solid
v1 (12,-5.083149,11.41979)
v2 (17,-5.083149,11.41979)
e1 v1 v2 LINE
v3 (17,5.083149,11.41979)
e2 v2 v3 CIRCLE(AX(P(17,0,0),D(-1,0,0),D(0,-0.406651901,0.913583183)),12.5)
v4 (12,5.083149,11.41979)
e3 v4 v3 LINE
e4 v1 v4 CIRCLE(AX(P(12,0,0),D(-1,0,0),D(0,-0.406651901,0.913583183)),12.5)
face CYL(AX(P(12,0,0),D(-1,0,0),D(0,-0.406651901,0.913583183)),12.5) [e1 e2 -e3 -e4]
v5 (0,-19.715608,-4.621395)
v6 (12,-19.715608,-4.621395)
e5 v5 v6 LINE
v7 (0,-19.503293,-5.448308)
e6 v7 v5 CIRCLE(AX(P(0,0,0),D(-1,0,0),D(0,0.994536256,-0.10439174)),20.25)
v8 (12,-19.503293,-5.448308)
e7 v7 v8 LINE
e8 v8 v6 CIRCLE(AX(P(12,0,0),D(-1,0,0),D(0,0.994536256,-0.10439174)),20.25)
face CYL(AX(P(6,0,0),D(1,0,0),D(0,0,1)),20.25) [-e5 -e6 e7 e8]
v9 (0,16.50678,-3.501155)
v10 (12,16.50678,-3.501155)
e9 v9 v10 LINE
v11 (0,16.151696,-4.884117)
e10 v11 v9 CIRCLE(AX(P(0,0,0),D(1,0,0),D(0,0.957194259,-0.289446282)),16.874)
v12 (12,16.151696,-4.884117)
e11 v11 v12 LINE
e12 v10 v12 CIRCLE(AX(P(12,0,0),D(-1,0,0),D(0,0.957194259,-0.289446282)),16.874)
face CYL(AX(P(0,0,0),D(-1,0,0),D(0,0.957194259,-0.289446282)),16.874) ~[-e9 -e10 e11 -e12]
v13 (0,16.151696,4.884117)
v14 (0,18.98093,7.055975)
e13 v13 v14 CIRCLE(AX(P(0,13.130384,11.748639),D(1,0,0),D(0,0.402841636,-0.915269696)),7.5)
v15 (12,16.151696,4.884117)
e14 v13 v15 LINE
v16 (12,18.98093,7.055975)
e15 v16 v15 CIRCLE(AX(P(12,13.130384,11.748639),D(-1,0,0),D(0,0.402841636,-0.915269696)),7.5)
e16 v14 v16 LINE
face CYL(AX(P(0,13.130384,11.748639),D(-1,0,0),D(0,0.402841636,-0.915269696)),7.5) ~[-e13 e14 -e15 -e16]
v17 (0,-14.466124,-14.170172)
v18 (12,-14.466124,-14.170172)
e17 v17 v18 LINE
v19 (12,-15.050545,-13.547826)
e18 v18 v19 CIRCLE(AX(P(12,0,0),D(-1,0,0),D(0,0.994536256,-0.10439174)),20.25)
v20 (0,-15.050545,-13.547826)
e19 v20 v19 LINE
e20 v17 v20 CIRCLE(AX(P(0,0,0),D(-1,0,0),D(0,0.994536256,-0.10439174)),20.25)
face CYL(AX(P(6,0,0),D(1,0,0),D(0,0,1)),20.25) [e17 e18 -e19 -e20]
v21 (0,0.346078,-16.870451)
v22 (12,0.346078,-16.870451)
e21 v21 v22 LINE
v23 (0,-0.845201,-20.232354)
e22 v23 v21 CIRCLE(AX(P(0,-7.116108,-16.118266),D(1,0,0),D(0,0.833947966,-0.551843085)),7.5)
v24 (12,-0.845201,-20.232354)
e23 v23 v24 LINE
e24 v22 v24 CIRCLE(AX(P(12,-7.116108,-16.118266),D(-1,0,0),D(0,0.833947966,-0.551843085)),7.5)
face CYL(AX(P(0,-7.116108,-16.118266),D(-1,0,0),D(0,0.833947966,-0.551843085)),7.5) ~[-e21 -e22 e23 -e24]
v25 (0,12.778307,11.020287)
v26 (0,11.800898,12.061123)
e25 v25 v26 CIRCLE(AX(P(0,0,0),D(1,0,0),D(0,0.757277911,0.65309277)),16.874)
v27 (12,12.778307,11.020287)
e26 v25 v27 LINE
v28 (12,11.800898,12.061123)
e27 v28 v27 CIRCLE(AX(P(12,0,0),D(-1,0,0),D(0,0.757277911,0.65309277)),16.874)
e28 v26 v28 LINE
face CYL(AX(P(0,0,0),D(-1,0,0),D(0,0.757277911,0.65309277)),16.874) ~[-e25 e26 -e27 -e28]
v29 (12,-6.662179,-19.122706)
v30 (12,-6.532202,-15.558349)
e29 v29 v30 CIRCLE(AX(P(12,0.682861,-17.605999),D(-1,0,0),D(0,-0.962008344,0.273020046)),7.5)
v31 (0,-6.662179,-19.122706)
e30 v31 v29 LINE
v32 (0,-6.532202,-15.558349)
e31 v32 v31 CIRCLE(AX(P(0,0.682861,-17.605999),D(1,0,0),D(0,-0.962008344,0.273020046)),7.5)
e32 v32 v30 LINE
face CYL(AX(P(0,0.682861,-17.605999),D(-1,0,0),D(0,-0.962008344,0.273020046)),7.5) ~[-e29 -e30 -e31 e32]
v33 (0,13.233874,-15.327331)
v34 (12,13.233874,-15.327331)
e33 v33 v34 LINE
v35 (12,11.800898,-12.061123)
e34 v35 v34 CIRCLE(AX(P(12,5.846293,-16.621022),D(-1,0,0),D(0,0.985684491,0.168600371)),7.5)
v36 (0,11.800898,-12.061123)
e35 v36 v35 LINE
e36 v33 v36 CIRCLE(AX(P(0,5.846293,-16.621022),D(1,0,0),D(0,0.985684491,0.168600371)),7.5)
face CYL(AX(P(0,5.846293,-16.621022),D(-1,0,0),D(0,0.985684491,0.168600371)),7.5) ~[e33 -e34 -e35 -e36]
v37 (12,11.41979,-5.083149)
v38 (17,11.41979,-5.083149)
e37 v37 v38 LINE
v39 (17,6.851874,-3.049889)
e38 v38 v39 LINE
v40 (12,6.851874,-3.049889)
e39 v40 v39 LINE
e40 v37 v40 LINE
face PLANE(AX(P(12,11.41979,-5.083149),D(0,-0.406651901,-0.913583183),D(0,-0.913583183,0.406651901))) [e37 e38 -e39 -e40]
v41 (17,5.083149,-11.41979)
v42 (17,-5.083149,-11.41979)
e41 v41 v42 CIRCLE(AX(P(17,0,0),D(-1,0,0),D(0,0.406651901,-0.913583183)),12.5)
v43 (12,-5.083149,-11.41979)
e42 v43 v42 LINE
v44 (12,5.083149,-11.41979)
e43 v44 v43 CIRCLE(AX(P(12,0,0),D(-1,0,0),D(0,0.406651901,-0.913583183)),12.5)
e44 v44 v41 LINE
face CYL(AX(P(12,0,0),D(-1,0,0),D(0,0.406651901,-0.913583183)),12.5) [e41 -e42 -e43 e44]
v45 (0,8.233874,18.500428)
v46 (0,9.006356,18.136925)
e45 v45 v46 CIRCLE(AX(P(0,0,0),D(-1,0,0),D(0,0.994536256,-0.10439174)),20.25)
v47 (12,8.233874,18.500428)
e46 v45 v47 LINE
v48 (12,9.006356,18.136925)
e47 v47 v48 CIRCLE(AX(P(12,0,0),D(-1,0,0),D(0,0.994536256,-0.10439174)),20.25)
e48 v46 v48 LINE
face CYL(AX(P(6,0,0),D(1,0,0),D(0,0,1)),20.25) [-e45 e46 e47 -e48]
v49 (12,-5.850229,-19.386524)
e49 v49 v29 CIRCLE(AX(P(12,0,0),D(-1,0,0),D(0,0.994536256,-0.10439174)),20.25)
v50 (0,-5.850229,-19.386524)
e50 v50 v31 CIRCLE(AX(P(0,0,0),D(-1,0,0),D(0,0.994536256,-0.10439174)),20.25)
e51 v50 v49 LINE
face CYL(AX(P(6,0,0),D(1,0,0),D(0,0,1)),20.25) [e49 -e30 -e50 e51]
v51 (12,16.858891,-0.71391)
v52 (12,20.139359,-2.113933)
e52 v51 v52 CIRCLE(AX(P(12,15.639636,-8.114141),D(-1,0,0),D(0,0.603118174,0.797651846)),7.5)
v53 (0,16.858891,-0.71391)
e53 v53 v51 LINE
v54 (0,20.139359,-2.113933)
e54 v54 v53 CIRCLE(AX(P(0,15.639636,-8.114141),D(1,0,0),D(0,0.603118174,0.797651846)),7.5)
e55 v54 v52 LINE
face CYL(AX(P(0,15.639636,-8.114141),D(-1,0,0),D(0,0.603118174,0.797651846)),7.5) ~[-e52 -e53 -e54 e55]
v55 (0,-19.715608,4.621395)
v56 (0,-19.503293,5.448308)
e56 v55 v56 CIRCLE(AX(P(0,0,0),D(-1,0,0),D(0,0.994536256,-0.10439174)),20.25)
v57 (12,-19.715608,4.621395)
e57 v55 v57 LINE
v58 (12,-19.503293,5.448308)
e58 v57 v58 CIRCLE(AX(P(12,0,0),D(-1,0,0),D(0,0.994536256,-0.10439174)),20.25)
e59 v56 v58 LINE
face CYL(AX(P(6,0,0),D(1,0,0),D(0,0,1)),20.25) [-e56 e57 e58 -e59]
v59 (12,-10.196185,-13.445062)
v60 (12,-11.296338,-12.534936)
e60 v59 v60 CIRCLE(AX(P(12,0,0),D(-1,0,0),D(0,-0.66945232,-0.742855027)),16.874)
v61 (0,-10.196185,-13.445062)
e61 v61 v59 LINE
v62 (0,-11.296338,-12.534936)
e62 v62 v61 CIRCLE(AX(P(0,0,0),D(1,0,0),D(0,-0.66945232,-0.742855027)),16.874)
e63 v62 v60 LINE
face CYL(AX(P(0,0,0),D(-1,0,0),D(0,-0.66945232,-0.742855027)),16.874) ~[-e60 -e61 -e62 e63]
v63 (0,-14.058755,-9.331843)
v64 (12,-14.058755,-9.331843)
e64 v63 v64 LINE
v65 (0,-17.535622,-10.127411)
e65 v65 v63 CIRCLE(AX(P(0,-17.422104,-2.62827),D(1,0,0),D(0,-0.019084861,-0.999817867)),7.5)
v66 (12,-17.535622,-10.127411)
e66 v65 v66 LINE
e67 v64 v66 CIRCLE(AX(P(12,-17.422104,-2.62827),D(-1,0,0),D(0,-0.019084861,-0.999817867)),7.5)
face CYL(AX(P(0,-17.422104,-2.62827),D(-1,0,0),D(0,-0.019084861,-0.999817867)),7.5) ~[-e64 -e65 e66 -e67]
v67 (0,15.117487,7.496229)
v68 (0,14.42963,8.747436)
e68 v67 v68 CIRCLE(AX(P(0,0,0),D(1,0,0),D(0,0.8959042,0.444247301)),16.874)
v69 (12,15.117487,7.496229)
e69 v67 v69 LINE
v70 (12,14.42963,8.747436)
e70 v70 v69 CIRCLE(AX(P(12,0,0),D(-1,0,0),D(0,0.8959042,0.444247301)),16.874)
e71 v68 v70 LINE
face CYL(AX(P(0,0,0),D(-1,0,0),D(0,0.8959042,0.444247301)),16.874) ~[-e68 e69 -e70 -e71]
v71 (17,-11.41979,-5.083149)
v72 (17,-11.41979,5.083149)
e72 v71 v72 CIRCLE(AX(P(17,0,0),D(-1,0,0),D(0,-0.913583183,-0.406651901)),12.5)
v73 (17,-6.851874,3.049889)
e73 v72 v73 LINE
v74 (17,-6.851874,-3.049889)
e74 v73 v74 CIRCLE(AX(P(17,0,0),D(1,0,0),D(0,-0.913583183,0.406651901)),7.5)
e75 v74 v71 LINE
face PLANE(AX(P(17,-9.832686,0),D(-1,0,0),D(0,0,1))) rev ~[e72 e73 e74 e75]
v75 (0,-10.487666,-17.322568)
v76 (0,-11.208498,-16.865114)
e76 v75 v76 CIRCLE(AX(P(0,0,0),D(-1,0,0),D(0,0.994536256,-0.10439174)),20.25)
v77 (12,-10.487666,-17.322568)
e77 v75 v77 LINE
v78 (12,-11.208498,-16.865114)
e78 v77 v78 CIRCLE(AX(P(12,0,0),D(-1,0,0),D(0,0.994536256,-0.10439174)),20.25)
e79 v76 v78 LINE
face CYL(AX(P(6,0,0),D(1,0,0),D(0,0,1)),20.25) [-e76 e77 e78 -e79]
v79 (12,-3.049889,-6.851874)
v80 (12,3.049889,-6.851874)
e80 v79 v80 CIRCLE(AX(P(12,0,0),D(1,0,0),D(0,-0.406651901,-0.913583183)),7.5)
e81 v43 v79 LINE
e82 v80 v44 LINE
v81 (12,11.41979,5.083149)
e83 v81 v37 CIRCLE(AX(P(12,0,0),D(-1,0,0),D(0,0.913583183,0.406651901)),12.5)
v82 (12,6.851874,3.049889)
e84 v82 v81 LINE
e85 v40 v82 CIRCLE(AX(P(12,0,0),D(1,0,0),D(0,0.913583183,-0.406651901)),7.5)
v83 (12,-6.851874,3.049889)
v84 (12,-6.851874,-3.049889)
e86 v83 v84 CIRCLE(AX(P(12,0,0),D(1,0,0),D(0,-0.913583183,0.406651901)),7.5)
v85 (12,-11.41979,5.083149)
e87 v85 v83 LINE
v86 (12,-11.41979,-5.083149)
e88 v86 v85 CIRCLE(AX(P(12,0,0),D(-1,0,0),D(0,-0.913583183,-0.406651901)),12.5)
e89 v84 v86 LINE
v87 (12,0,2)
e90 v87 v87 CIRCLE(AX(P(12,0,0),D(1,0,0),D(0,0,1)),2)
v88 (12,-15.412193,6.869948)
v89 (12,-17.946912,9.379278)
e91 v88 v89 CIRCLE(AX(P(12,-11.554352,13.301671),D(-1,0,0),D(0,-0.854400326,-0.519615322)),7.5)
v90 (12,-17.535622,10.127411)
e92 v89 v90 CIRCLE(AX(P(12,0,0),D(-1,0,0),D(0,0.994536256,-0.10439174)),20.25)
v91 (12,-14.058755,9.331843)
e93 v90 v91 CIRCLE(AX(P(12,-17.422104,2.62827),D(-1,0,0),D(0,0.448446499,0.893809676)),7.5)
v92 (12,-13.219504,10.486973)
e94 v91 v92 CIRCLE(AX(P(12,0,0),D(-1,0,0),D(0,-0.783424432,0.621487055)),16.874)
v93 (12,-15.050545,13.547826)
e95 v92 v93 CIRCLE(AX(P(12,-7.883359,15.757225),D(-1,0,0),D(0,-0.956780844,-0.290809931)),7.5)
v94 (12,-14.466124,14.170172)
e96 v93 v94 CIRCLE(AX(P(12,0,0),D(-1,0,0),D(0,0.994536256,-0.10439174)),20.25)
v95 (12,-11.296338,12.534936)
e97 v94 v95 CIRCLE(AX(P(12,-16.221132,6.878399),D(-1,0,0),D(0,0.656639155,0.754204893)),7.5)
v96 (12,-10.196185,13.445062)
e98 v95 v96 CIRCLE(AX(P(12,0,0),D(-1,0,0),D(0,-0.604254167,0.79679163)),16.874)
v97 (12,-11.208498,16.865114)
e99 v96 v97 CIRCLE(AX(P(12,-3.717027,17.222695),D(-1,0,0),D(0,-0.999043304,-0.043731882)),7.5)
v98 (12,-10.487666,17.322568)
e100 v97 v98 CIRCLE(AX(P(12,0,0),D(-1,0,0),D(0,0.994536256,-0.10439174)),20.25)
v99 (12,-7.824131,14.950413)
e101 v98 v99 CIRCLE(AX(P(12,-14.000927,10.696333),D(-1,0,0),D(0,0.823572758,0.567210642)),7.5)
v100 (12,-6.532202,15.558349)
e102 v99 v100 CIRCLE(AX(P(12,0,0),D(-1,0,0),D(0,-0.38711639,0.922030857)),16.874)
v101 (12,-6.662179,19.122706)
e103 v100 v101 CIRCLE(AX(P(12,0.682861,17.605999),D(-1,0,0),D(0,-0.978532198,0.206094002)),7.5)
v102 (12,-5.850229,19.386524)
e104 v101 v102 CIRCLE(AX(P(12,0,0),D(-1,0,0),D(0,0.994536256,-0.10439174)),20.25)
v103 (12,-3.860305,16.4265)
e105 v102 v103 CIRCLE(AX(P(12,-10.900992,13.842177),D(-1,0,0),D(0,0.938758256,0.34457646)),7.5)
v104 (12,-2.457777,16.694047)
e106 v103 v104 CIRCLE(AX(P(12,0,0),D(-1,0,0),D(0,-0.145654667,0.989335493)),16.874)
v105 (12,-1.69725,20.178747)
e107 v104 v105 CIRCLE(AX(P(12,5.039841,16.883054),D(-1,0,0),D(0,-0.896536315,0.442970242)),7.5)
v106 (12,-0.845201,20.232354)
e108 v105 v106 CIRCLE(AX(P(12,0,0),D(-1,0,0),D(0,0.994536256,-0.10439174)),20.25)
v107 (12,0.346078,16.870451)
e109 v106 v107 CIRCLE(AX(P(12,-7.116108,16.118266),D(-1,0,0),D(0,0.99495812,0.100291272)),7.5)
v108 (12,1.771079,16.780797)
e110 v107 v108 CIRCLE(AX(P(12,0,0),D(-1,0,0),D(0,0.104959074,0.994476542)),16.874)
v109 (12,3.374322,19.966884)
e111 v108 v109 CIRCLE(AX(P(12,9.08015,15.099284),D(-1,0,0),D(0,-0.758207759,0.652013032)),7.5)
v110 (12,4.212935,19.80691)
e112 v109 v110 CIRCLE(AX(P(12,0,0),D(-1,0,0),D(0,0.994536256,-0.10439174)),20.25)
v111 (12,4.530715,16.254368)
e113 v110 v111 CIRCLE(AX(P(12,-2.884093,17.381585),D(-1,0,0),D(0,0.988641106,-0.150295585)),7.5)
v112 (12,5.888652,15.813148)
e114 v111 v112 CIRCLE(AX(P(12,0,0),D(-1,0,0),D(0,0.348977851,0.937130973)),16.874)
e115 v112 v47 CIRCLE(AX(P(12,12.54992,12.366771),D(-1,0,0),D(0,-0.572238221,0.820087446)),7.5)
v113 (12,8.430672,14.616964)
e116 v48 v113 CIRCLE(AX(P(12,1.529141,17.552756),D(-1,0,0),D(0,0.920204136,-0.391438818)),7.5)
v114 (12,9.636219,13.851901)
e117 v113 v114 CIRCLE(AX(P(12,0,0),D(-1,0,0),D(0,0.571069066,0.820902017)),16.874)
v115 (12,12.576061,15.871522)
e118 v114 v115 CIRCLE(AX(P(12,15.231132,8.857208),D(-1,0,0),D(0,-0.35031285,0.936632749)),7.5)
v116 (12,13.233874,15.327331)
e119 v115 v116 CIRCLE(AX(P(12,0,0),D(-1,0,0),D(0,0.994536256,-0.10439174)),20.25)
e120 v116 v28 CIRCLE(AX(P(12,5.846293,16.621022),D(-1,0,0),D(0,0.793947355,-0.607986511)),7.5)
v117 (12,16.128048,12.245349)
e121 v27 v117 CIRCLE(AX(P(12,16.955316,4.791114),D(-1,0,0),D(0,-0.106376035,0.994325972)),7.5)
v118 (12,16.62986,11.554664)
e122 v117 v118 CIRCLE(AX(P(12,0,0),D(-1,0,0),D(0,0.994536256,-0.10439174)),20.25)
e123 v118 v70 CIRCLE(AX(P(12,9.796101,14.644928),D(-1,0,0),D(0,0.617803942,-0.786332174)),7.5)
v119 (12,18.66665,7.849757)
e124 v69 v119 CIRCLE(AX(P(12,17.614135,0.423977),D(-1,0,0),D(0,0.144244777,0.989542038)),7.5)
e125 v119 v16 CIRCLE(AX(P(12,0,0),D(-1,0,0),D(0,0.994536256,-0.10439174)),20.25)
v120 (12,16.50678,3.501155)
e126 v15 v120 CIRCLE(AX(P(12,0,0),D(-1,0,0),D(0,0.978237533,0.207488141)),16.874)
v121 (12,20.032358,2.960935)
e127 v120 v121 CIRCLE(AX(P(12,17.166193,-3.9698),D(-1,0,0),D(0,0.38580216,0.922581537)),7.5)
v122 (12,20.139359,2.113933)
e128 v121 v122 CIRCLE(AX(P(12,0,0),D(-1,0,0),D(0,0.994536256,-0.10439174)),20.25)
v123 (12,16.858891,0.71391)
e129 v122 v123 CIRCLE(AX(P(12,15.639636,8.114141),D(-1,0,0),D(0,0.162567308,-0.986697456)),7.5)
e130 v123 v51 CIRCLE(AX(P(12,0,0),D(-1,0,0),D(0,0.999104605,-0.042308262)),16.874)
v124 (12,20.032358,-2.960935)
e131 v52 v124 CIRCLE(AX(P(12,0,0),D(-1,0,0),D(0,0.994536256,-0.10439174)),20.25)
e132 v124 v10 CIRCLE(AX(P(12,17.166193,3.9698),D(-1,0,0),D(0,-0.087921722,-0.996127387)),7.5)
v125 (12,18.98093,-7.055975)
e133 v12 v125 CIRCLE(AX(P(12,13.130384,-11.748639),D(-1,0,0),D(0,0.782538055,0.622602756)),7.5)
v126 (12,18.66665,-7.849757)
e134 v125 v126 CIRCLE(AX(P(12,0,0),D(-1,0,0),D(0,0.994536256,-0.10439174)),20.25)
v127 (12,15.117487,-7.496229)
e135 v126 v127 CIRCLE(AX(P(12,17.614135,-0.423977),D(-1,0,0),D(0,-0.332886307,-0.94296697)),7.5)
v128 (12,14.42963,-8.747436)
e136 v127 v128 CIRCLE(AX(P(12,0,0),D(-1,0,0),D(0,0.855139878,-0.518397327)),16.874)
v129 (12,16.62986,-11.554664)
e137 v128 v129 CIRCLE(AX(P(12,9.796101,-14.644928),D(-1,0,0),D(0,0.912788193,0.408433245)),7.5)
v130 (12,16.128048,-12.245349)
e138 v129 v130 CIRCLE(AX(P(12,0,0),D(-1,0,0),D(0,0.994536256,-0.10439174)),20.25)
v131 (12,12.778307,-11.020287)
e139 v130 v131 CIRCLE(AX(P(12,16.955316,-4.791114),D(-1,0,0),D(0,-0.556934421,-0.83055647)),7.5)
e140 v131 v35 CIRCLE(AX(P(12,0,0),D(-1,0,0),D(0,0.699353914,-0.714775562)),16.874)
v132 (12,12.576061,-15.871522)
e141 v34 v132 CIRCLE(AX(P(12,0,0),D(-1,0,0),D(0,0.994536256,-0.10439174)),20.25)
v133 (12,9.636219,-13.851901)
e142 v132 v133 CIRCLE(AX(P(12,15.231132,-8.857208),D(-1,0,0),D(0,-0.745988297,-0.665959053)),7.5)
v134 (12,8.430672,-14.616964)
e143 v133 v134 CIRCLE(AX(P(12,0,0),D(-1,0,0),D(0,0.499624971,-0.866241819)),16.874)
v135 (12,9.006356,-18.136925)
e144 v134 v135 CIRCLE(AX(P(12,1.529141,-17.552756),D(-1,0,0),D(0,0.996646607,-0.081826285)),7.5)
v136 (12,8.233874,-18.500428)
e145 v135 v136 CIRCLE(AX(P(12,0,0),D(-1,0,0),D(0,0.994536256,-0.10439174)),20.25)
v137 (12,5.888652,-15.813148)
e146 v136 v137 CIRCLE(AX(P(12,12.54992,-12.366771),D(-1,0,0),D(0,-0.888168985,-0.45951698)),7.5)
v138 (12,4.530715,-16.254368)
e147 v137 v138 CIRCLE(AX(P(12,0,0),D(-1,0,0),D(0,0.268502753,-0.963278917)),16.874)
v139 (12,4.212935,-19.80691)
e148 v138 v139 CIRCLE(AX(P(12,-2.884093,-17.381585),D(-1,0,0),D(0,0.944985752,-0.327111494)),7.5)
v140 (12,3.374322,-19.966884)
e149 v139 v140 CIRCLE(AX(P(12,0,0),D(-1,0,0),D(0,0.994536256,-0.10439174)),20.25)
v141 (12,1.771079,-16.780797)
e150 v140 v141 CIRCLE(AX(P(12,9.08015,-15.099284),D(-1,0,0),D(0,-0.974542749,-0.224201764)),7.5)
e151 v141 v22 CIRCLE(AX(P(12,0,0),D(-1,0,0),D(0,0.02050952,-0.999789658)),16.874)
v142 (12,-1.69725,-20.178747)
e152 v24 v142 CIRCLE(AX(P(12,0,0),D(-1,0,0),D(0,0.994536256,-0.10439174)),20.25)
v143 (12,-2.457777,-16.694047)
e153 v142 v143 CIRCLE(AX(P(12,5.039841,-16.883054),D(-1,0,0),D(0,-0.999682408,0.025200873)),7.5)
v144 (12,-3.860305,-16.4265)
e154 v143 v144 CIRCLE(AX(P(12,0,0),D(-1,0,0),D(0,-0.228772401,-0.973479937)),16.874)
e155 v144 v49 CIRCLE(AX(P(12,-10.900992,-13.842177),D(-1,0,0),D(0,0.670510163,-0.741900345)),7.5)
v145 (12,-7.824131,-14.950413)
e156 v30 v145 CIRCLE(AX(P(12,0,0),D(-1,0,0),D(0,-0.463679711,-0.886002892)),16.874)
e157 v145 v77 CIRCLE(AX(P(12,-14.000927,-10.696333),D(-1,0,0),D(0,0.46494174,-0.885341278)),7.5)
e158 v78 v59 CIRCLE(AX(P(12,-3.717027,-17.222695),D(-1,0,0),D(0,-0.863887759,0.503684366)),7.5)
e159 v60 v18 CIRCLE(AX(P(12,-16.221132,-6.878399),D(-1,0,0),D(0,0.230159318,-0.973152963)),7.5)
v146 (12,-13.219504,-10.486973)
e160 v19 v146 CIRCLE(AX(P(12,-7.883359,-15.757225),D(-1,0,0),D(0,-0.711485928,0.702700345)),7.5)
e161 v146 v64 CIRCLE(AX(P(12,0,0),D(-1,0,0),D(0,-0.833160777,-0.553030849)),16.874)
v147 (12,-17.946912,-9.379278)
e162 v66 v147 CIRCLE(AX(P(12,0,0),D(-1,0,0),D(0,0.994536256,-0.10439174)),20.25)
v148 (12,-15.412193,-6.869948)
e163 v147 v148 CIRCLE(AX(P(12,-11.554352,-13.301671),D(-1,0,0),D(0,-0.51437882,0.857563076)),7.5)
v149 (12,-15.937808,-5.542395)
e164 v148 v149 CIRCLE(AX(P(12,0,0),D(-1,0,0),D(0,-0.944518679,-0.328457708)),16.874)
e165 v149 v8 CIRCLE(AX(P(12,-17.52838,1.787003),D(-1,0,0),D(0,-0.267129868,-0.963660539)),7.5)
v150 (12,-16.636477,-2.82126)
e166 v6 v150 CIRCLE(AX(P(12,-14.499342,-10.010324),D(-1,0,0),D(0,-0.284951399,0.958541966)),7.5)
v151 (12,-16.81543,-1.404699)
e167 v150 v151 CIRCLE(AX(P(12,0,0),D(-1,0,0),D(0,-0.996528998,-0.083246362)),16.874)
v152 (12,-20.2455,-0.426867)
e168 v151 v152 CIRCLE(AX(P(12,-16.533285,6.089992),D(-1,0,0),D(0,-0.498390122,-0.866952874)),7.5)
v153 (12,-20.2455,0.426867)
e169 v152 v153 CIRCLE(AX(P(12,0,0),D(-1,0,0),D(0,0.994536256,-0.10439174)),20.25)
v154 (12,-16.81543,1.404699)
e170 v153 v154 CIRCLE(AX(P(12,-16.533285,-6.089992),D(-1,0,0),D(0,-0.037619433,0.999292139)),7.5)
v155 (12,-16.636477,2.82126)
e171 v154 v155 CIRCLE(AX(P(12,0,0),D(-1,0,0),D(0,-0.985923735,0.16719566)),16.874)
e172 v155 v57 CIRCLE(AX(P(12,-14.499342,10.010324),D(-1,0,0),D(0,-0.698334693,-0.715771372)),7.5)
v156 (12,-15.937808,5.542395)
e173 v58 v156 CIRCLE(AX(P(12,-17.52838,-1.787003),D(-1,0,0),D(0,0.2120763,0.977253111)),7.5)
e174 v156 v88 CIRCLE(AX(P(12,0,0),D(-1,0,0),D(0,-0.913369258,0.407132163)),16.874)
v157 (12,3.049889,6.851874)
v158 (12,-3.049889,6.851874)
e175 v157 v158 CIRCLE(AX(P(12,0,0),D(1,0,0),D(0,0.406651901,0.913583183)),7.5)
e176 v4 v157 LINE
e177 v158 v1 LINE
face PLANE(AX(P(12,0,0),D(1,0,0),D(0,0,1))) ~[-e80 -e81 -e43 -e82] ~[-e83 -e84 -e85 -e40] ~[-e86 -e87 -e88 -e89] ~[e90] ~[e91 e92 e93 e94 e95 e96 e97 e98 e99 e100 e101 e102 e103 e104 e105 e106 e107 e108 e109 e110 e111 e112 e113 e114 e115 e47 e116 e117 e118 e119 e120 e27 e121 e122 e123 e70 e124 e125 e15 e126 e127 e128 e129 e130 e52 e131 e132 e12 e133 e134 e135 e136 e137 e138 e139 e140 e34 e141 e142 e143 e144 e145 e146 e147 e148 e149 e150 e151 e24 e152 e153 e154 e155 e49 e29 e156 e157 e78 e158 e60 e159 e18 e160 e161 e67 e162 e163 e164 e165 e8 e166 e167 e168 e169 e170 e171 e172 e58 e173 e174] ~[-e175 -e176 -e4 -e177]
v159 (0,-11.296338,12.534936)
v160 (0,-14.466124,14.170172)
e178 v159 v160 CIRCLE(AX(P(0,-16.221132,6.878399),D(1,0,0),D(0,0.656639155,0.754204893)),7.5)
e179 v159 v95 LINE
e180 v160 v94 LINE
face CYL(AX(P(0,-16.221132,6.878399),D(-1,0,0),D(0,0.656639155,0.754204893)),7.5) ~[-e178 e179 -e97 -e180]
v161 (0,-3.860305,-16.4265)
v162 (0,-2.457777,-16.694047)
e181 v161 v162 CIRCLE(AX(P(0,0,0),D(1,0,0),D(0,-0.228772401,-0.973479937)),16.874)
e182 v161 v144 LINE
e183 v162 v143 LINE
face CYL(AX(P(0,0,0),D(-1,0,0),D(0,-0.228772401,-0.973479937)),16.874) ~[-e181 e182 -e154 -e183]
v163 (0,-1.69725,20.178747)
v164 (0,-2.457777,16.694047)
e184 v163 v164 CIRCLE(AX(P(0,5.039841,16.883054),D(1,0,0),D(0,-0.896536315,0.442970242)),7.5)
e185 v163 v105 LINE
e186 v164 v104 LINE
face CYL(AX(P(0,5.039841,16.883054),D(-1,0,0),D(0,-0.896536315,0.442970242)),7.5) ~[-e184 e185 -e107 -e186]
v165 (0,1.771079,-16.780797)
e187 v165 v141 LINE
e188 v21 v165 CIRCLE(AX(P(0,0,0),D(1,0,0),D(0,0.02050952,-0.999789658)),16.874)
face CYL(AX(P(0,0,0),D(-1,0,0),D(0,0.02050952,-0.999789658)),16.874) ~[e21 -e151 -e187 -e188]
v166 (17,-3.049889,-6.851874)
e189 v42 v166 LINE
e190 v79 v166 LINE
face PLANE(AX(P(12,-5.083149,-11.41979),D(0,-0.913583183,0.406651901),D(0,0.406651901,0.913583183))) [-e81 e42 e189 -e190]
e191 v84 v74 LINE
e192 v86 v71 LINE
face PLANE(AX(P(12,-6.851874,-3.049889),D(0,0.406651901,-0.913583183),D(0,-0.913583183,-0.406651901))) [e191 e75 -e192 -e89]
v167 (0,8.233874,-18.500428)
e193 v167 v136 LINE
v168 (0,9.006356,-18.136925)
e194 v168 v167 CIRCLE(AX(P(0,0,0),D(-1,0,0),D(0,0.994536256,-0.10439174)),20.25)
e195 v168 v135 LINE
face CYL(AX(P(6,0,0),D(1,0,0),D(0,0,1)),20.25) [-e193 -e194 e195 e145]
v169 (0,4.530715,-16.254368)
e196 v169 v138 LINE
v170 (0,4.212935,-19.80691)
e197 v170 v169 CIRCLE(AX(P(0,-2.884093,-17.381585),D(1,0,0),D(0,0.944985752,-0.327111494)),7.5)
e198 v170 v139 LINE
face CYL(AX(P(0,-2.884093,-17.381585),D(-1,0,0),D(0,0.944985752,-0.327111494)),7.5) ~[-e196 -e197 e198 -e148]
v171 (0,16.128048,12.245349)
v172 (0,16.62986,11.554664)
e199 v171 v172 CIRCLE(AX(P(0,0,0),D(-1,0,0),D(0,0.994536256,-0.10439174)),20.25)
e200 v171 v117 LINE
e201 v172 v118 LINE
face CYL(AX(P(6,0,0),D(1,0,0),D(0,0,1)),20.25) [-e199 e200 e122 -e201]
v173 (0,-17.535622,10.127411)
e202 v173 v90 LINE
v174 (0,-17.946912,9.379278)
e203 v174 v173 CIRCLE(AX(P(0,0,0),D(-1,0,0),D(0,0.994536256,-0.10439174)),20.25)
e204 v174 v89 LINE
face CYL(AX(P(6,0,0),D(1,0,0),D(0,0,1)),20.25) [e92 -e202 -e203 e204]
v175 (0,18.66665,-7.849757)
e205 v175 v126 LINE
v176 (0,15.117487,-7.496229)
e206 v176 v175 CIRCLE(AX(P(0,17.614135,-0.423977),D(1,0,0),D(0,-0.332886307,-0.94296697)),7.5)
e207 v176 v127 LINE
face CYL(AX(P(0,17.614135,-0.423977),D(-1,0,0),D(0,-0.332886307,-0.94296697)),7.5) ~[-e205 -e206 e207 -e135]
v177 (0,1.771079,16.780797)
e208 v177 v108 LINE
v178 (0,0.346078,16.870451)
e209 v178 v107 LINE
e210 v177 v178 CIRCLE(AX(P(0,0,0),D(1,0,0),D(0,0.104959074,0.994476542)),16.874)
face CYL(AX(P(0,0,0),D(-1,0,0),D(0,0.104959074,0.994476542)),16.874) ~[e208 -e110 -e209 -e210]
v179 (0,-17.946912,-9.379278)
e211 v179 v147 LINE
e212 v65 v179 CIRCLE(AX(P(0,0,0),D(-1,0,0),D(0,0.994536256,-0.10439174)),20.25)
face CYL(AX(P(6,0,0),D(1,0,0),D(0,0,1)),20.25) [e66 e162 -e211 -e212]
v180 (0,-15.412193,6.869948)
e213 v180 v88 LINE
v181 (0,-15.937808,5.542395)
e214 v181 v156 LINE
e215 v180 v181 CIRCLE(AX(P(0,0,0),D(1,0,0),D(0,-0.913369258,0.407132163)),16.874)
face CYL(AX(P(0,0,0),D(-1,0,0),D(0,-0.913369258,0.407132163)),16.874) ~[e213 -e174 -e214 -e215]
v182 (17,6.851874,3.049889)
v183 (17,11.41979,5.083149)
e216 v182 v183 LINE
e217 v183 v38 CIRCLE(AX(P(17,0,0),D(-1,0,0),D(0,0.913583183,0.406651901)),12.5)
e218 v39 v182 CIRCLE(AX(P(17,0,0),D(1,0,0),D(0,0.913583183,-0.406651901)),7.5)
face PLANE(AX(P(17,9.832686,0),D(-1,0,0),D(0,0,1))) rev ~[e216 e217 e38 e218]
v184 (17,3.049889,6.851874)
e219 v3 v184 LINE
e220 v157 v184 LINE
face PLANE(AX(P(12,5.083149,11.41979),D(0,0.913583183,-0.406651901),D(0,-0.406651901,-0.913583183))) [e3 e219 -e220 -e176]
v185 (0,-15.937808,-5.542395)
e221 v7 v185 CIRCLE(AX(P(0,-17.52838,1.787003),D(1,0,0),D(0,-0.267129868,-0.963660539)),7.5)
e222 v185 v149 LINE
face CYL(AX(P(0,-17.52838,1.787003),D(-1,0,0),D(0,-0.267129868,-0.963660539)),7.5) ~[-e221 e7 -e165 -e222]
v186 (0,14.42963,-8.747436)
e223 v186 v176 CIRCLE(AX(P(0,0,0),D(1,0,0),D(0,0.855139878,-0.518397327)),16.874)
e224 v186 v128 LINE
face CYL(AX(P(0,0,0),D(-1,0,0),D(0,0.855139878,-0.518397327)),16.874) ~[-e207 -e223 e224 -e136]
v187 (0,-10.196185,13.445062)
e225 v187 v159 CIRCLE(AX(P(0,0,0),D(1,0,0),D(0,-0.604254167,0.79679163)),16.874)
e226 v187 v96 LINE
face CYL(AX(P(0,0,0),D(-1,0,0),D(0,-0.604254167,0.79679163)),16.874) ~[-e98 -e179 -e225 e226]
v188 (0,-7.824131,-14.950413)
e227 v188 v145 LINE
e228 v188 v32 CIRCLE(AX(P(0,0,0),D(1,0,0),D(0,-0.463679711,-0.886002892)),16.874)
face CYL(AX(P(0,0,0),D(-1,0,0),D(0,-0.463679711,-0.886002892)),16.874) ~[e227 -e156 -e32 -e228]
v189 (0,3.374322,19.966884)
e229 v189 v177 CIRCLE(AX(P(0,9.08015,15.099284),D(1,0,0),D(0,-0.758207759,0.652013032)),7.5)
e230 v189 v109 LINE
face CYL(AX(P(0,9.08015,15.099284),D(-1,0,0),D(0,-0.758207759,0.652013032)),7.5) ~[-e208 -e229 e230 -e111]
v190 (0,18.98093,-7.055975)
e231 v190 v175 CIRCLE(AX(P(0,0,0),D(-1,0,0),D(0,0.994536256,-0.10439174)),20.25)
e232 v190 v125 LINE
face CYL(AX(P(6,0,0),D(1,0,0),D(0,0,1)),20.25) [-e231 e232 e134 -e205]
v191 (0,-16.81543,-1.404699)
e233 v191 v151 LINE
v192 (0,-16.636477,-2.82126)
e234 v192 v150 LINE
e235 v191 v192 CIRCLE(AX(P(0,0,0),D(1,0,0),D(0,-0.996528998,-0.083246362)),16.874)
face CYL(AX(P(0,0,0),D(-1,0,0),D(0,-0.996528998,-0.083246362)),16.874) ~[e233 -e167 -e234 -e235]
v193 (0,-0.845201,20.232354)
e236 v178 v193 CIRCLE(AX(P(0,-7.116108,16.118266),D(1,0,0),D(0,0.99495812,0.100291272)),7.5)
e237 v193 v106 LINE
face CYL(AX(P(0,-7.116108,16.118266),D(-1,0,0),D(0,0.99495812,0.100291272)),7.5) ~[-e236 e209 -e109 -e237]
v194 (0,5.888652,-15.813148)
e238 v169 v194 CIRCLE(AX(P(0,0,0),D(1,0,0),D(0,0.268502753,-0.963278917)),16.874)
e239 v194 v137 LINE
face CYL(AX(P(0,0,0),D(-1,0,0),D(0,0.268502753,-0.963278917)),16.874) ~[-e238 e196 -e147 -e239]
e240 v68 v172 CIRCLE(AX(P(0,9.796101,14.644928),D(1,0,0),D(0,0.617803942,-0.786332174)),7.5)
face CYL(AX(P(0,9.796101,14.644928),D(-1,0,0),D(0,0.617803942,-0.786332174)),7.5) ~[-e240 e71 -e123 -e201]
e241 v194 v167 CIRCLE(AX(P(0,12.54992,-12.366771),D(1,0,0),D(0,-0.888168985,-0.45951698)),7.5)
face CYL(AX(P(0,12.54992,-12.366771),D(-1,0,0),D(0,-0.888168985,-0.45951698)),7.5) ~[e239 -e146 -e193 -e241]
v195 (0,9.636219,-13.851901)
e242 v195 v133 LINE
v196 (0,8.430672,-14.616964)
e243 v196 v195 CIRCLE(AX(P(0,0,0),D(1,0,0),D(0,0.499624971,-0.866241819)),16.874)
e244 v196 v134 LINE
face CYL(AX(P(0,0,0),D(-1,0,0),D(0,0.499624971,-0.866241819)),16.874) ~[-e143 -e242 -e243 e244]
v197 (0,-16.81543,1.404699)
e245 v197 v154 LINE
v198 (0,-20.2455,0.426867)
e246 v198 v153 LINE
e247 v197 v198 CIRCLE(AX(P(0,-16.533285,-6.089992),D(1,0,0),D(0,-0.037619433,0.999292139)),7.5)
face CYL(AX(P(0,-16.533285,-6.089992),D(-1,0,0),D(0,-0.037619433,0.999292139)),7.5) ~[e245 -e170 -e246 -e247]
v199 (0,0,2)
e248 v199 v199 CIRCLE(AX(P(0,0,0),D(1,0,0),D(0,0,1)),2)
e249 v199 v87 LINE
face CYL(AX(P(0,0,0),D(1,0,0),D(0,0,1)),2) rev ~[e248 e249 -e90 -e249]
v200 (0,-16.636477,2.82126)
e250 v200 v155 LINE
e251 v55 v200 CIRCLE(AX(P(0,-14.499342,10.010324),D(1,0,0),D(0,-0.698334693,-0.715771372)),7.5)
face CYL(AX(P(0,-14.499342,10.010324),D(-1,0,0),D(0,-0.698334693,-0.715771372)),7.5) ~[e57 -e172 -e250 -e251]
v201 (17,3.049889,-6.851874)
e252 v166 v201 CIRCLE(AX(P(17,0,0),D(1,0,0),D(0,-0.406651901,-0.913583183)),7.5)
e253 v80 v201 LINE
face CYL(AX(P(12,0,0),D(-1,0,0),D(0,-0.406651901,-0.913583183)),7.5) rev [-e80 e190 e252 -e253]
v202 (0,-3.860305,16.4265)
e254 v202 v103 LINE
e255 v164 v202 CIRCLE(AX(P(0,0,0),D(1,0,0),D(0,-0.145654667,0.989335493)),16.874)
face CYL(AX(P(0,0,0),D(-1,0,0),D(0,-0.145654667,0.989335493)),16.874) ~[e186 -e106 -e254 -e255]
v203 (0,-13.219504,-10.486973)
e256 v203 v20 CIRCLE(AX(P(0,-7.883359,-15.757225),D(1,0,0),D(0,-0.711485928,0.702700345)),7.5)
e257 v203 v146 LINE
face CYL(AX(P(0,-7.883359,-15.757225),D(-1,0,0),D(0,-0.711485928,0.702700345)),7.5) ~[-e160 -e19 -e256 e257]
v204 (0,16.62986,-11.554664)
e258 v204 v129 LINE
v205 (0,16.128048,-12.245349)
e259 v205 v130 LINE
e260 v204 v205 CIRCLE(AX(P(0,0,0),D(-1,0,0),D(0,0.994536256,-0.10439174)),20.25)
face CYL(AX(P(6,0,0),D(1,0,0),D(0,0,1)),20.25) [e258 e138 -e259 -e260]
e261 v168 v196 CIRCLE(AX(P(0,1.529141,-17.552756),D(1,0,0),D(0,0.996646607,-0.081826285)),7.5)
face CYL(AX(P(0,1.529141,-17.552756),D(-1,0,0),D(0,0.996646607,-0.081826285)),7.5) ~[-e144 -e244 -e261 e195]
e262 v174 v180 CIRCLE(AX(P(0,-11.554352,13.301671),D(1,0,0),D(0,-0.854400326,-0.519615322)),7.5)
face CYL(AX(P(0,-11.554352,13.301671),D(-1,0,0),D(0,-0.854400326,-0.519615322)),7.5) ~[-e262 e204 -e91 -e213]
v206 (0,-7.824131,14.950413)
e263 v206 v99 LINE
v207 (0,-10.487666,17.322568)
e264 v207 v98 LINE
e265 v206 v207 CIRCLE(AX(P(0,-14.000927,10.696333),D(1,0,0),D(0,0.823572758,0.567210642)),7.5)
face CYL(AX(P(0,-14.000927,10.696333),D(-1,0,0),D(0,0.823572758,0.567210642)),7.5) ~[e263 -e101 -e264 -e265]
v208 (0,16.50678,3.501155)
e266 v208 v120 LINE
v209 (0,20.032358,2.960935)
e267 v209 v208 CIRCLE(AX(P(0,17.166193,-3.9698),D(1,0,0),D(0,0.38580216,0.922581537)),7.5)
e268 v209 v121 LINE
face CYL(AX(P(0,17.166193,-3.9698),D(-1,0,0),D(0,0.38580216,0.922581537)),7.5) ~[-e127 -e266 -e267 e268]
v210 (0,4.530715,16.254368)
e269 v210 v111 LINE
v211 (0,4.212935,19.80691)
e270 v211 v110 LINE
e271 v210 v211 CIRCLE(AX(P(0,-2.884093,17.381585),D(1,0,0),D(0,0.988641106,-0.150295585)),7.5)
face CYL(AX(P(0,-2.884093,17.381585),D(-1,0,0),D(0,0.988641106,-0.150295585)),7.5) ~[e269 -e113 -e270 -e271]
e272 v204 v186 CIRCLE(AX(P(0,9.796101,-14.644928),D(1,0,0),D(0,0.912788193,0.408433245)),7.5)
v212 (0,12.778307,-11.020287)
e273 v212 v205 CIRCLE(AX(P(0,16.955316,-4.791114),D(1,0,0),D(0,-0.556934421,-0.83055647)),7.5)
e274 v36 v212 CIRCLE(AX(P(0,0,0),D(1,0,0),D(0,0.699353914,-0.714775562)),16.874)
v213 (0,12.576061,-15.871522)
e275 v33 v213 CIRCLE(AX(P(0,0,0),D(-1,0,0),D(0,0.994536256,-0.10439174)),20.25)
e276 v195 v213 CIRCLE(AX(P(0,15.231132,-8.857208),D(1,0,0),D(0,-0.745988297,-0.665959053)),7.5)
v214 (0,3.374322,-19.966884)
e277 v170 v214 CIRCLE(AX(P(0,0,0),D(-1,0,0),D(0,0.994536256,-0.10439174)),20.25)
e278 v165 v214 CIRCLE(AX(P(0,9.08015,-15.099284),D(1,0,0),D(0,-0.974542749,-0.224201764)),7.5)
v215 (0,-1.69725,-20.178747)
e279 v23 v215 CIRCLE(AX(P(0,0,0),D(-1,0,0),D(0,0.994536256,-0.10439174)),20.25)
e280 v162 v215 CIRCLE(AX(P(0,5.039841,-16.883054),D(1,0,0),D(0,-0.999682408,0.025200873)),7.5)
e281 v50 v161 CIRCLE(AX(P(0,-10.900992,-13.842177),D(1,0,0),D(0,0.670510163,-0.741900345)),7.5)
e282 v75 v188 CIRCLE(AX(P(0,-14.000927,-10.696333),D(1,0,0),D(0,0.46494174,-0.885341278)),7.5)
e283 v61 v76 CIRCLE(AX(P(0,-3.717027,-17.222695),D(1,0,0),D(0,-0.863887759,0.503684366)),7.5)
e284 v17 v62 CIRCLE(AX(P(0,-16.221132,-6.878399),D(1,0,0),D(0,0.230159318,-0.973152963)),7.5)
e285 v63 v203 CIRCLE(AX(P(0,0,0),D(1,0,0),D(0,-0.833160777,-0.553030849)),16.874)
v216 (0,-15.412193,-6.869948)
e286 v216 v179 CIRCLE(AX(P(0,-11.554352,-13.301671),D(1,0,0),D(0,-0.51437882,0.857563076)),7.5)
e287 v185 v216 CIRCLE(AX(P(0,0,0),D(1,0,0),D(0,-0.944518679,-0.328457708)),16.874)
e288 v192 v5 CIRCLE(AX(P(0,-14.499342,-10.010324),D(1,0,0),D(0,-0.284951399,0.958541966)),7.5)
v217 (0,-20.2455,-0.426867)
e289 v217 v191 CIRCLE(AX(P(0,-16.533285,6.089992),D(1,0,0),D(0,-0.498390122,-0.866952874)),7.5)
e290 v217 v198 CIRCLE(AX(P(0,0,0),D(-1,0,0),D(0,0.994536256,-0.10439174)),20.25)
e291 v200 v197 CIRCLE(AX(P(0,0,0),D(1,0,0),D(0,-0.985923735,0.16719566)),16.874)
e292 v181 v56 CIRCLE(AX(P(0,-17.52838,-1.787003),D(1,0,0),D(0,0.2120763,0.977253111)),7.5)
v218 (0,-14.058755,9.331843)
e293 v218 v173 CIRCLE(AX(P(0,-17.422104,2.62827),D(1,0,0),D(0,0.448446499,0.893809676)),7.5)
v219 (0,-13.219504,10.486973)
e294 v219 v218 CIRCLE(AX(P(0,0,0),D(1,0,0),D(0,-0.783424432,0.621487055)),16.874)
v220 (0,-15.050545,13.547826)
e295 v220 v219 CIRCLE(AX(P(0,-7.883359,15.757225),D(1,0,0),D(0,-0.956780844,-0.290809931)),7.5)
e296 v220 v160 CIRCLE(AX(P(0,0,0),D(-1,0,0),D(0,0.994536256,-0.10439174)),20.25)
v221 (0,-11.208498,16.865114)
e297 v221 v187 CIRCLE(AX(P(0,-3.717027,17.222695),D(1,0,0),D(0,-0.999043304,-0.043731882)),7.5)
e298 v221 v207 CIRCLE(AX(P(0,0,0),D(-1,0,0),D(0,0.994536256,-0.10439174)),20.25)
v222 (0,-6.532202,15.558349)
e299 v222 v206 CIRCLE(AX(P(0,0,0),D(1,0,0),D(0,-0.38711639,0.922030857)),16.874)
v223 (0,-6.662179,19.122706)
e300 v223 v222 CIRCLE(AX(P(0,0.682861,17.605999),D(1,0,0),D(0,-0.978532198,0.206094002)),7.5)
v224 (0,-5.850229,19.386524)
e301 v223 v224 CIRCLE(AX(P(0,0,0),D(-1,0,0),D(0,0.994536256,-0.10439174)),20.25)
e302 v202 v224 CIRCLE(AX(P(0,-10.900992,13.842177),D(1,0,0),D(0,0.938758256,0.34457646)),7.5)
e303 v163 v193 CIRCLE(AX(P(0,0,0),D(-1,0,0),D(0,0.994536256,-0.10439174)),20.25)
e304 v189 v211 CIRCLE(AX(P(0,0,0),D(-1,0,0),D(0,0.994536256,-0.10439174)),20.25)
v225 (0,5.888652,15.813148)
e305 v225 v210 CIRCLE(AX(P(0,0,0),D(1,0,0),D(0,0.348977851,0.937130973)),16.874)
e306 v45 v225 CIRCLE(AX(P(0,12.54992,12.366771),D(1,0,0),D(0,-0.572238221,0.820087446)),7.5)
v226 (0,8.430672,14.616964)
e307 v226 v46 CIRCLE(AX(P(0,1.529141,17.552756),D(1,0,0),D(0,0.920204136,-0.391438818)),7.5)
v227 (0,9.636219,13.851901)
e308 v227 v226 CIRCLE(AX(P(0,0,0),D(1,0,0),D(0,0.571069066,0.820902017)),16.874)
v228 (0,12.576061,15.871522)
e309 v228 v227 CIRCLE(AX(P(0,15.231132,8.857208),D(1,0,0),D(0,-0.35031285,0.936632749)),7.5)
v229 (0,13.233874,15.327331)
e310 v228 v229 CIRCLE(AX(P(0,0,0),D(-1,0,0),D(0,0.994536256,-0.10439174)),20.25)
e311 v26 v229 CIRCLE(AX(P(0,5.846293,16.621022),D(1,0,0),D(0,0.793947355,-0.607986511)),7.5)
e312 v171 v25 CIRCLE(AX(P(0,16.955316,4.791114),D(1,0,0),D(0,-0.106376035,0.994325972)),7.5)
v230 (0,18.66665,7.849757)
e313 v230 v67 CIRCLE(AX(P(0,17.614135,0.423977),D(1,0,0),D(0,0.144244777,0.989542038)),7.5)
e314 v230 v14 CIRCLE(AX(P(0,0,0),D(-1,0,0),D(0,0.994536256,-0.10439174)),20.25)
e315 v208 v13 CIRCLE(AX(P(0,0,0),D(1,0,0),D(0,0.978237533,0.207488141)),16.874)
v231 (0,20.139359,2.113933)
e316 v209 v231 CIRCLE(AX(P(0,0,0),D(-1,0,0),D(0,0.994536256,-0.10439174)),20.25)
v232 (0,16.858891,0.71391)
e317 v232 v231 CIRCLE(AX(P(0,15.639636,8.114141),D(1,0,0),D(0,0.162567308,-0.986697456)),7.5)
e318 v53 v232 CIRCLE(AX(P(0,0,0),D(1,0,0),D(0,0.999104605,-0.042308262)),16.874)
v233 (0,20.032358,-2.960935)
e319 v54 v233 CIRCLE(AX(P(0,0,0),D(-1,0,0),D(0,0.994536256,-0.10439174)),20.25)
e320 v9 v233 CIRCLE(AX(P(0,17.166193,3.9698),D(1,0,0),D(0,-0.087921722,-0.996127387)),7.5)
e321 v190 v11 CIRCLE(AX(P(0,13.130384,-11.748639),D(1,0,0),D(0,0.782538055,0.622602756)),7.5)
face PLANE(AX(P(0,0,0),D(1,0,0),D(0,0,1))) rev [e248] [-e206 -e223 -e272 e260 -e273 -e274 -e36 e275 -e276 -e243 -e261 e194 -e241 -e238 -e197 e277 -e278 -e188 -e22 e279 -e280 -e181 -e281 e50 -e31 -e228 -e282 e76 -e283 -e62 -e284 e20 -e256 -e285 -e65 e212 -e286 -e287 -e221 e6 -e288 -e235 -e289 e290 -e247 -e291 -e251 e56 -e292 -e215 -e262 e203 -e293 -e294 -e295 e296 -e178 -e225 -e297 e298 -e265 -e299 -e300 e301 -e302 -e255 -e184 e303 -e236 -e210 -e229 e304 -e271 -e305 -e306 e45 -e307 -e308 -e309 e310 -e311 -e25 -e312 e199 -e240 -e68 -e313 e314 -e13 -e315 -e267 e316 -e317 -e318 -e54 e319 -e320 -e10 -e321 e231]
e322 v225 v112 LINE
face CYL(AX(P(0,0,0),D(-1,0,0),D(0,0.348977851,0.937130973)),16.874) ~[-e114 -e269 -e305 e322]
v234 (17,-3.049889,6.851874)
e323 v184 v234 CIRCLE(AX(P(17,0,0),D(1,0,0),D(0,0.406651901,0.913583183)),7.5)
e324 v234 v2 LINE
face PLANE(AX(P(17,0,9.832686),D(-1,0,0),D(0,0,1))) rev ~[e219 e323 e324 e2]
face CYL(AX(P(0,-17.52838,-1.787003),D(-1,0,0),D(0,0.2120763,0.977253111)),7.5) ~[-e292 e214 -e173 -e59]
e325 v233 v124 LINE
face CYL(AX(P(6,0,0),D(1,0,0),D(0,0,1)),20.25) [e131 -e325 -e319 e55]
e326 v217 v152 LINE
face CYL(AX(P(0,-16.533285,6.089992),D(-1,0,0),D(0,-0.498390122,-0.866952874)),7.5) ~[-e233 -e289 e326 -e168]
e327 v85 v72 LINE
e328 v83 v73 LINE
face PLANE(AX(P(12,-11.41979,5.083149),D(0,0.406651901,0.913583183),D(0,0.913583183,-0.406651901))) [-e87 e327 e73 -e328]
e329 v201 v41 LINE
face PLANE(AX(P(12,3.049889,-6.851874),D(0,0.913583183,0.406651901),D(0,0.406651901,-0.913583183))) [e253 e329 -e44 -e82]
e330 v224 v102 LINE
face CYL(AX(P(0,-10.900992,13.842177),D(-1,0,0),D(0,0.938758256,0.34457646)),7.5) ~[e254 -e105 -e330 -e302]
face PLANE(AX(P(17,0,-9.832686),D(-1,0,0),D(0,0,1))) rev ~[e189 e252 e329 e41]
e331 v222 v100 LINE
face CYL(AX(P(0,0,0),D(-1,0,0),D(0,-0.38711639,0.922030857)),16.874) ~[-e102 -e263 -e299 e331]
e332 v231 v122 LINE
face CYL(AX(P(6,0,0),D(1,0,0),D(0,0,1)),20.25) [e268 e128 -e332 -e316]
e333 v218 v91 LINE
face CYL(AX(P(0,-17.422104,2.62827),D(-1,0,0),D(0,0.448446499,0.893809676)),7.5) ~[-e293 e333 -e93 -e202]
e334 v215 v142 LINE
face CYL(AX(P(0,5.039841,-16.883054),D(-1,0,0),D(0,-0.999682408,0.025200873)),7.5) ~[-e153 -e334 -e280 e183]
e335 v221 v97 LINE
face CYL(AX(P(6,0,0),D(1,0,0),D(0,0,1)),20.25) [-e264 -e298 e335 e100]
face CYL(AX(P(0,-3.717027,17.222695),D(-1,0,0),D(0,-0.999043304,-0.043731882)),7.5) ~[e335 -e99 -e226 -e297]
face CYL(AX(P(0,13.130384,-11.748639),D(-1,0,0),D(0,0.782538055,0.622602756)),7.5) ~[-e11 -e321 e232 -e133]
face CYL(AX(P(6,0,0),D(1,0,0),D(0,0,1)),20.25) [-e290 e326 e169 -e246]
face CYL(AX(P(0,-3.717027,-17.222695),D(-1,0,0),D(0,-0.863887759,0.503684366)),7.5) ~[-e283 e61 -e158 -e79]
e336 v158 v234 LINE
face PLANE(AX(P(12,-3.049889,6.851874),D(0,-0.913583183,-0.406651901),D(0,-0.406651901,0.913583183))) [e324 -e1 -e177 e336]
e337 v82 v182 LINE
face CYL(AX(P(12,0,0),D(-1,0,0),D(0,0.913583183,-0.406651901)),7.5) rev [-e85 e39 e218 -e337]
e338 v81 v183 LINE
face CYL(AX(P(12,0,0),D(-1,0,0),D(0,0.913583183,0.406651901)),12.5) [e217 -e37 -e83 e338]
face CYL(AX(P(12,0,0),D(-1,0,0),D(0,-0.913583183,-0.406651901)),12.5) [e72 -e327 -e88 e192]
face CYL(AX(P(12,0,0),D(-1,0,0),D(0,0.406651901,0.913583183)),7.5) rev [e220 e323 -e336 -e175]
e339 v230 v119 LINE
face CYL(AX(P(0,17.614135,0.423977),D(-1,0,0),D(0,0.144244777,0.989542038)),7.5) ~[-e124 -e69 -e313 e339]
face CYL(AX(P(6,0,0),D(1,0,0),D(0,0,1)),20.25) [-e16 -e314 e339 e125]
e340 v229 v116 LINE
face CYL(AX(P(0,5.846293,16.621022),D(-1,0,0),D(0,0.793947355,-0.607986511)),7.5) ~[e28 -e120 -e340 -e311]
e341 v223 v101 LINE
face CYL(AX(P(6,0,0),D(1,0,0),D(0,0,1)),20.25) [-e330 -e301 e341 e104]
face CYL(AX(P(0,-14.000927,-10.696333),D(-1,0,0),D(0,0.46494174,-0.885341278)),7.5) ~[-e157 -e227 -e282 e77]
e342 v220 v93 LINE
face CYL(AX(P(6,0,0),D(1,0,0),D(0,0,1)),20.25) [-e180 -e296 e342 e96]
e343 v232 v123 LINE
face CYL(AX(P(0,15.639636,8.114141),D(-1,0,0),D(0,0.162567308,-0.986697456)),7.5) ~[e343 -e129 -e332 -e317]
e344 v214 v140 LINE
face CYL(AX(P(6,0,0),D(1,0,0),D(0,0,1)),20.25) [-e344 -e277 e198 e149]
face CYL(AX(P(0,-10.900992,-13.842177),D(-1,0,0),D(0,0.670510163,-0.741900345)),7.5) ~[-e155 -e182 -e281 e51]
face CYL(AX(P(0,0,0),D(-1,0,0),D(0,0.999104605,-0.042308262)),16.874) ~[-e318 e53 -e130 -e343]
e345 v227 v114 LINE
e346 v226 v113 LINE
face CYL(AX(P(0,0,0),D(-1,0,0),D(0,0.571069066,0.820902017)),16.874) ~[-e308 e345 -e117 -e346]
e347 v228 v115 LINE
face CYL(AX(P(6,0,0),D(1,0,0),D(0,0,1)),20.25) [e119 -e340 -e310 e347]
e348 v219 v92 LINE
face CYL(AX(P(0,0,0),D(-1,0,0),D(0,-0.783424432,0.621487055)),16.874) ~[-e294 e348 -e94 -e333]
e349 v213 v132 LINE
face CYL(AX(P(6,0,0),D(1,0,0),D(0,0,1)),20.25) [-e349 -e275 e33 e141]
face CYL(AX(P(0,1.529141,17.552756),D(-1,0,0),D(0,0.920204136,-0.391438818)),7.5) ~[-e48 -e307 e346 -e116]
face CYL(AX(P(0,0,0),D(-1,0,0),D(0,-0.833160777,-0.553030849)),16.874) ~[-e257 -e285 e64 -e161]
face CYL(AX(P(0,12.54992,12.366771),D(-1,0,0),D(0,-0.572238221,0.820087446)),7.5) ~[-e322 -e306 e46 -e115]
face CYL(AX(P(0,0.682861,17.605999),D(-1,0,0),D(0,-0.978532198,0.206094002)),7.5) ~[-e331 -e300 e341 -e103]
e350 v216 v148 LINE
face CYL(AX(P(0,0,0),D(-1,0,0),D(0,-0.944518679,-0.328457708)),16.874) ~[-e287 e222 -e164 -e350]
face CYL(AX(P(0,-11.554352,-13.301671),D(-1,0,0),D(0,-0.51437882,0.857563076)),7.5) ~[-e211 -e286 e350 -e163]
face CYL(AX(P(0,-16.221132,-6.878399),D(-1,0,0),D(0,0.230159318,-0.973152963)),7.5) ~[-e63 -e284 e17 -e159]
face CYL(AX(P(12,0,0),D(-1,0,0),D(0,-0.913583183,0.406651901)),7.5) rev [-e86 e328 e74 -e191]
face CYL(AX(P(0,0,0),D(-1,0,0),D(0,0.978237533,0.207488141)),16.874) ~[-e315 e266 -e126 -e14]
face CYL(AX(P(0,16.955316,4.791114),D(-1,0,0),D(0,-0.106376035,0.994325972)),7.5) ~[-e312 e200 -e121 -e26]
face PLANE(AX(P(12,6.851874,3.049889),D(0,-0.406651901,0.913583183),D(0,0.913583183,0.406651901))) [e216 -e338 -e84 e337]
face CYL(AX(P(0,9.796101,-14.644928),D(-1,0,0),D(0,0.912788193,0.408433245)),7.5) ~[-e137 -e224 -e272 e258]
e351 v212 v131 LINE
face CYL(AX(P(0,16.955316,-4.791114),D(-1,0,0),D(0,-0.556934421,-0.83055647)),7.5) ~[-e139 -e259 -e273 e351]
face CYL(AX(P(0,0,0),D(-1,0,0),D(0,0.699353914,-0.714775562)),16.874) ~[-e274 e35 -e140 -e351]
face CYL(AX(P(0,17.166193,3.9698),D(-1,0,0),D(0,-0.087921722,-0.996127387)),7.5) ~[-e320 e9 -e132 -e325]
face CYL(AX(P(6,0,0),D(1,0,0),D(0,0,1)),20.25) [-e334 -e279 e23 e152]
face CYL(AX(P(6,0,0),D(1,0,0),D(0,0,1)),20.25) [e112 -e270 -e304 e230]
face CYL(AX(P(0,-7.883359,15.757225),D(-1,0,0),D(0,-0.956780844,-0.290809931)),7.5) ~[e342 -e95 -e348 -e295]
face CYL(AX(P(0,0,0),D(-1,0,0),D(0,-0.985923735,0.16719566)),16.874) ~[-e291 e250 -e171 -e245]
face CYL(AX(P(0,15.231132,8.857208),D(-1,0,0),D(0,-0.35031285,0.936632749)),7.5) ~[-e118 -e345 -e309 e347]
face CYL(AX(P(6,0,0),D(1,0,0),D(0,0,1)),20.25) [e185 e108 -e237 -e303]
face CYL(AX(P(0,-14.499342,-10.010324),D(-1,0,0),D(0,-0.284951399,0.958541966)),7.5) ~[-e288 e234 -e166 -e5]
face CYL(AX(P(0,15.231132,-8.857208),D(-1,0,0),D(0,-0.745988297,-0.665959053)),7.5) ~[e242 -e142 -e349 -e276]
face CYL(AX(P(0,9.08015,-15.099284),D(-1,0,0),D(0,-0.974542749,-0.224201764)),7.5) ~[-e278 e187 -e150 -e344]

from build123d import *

# Parameters (mm, degrees)
BASPROSKE_W     = 12
BASPROSKE_H     = 20.25
TOOTHCUT_DEPTH  = 32.050362317
TEETHCUTS_COUNT = 25
TEETHCUTS_ANGLE = 345.6
BORSKE_R        = 2
BORE_DEPTH      = 50.0000508
EXTRUDE_1_DEPTH = 5


with BuildPart() as part:
    # BasProSke → Base-Revolve (revolve)
    with BuildSketch(Plane(origin=(0, 0, 0), x_dir=(1, 0, 0), z_dir=(0, 1, 0)), mode=Mode.PRIVATE) as base_revolve_sk:
        with Locations((6, 10.125)):
            Rectangle(BASPROSKE_W, BASPROSKE_H)
    revolve(base_revolve_sk.sketch.rotate(Axis((-10, 0, 0), (1, 0, 0)), 180), axis=Axis((-10, 0, 0), (1, 0, 0)))

    # TooCutSke → ToothCut (cut, through all)
    with BuildSketch(Plane(origin=(0, 0, 0), x_dir=(0, 0, -1), z_dir=(1, 0, 0))):
        with BuildLine():
            ThreePointArc((0.713909619, 16.858891098), (0, 16.874), (-0.713909619, 16.858891098))
            ThreePointArc((-0.713909619, 16.858891098), (-1.221902209, 18.597177626), (-2.131751691, 20.163022588))
            ThreePointArc((-2.131751691, 20.163022588), (0, 20.2754), (2.131751691, 20.163022588))
            ThreePointArc((2.131751691, 20.163022588), (1.221902209, 18.597177626), (0.713909619, 16.858891098))
        make_face()
    toothcut = extrude(amount=TOOTHCUT_DEPTH, mode=Mode.SUBTRACT)

    # TeethCuts: ToothCut ×25 about axis
    teethcuts_axis = Axis((-10, 0, 0), (1, 0, 0))
    for i in range(1, TEETHCUTS_COUNT):
        add(toothcut.rotate(teethcuts_axis, i * TEETHCUTS_ANGLE / (TEETHCUTS_COUNT - 1)), mode=Mode.SUBTRACT)

    # BorSke → Bore (cut, symmetric)
    with BuildSketch(Plane(origin=(0, 0, 0), x_dir=(0, 0, -1), z_dir=(1, 0, 0))):
        with Locations(Location((0, 0, 0), (0, 0, 180))):
            Circle(BORSKE_R)
    extrude(amount=BORE_DEPTH, both=True, mode=Mode.SUBTRACT)

    # 草图2 → 凸台-拉伸1 (add)
    with BuildSketch(Plane(origin=(12, 0, 0), x_dir=(0, 0, -1), z_dir=(1, 0, 0))):
        with BuildLine():
            Line((-3.049889257, 6.851873869), (-5.083148762, 11.419789782))
            ThreePointArc((-5.083148762, 11.419789782), (0, 12.5), (5.083148762, 11.419789782))
            Line((5.083148762, 11.419789782), (3.049889257, 6.851873869))
            ThreePointArc((3.049889257, 6.851873869), (0, 7.5), (-3.049889257, 6.851873869))
        make_face()
        with BuildLine():
            Line((6.851873869, 3.049889257), (11.419789782, 5.083148762))
            ThreePointArc((11.419789782, 5.083148762), (12.5, 0), (11.419789782, -5.083148762))
            Line((11.419789782, -5.083148762), (6.851873869, -3.049889257))
            ThreePointArc((6.851873869, -3.049889257), (7.5, 0), (6.851873869, 3.049889257))
        make_face()
        with BuildLine():
            Line((3.049889257, -6.851873869), (5.083148762, -11.419789782))
            ThreePointArc((5.083148762, -11.419789782), (0, -12.5), (-5.083148762, -11.419789782))
            Line((-5.083148762, -11.419789782), (-3.049889257, -6.851873869))
            ThreePointArc((-3.049889257, -6.851873869), (0, -7.5), (3.049889257, -6.851873869))
        make_face()
        with BuildLine():
            Line((-6.851873869, -3.049889257), (-11.419789782, -5.083148762))
            ThreePointArc((-11.419789782, -5.083148762), (-12.5, 0), (-11.419789782, 5.083148762))
            Line((-11.419789782, 5.083148762), (-6.851873869, 3.049889257))
            ThreePointArc((-6.851873869, 3.049889257), (-7.5, 0), (-6.851873869, -3.049889257))
        make_face()
    extrude(amount=EXTRUDE_1_DEPTH)


solid = part.part
